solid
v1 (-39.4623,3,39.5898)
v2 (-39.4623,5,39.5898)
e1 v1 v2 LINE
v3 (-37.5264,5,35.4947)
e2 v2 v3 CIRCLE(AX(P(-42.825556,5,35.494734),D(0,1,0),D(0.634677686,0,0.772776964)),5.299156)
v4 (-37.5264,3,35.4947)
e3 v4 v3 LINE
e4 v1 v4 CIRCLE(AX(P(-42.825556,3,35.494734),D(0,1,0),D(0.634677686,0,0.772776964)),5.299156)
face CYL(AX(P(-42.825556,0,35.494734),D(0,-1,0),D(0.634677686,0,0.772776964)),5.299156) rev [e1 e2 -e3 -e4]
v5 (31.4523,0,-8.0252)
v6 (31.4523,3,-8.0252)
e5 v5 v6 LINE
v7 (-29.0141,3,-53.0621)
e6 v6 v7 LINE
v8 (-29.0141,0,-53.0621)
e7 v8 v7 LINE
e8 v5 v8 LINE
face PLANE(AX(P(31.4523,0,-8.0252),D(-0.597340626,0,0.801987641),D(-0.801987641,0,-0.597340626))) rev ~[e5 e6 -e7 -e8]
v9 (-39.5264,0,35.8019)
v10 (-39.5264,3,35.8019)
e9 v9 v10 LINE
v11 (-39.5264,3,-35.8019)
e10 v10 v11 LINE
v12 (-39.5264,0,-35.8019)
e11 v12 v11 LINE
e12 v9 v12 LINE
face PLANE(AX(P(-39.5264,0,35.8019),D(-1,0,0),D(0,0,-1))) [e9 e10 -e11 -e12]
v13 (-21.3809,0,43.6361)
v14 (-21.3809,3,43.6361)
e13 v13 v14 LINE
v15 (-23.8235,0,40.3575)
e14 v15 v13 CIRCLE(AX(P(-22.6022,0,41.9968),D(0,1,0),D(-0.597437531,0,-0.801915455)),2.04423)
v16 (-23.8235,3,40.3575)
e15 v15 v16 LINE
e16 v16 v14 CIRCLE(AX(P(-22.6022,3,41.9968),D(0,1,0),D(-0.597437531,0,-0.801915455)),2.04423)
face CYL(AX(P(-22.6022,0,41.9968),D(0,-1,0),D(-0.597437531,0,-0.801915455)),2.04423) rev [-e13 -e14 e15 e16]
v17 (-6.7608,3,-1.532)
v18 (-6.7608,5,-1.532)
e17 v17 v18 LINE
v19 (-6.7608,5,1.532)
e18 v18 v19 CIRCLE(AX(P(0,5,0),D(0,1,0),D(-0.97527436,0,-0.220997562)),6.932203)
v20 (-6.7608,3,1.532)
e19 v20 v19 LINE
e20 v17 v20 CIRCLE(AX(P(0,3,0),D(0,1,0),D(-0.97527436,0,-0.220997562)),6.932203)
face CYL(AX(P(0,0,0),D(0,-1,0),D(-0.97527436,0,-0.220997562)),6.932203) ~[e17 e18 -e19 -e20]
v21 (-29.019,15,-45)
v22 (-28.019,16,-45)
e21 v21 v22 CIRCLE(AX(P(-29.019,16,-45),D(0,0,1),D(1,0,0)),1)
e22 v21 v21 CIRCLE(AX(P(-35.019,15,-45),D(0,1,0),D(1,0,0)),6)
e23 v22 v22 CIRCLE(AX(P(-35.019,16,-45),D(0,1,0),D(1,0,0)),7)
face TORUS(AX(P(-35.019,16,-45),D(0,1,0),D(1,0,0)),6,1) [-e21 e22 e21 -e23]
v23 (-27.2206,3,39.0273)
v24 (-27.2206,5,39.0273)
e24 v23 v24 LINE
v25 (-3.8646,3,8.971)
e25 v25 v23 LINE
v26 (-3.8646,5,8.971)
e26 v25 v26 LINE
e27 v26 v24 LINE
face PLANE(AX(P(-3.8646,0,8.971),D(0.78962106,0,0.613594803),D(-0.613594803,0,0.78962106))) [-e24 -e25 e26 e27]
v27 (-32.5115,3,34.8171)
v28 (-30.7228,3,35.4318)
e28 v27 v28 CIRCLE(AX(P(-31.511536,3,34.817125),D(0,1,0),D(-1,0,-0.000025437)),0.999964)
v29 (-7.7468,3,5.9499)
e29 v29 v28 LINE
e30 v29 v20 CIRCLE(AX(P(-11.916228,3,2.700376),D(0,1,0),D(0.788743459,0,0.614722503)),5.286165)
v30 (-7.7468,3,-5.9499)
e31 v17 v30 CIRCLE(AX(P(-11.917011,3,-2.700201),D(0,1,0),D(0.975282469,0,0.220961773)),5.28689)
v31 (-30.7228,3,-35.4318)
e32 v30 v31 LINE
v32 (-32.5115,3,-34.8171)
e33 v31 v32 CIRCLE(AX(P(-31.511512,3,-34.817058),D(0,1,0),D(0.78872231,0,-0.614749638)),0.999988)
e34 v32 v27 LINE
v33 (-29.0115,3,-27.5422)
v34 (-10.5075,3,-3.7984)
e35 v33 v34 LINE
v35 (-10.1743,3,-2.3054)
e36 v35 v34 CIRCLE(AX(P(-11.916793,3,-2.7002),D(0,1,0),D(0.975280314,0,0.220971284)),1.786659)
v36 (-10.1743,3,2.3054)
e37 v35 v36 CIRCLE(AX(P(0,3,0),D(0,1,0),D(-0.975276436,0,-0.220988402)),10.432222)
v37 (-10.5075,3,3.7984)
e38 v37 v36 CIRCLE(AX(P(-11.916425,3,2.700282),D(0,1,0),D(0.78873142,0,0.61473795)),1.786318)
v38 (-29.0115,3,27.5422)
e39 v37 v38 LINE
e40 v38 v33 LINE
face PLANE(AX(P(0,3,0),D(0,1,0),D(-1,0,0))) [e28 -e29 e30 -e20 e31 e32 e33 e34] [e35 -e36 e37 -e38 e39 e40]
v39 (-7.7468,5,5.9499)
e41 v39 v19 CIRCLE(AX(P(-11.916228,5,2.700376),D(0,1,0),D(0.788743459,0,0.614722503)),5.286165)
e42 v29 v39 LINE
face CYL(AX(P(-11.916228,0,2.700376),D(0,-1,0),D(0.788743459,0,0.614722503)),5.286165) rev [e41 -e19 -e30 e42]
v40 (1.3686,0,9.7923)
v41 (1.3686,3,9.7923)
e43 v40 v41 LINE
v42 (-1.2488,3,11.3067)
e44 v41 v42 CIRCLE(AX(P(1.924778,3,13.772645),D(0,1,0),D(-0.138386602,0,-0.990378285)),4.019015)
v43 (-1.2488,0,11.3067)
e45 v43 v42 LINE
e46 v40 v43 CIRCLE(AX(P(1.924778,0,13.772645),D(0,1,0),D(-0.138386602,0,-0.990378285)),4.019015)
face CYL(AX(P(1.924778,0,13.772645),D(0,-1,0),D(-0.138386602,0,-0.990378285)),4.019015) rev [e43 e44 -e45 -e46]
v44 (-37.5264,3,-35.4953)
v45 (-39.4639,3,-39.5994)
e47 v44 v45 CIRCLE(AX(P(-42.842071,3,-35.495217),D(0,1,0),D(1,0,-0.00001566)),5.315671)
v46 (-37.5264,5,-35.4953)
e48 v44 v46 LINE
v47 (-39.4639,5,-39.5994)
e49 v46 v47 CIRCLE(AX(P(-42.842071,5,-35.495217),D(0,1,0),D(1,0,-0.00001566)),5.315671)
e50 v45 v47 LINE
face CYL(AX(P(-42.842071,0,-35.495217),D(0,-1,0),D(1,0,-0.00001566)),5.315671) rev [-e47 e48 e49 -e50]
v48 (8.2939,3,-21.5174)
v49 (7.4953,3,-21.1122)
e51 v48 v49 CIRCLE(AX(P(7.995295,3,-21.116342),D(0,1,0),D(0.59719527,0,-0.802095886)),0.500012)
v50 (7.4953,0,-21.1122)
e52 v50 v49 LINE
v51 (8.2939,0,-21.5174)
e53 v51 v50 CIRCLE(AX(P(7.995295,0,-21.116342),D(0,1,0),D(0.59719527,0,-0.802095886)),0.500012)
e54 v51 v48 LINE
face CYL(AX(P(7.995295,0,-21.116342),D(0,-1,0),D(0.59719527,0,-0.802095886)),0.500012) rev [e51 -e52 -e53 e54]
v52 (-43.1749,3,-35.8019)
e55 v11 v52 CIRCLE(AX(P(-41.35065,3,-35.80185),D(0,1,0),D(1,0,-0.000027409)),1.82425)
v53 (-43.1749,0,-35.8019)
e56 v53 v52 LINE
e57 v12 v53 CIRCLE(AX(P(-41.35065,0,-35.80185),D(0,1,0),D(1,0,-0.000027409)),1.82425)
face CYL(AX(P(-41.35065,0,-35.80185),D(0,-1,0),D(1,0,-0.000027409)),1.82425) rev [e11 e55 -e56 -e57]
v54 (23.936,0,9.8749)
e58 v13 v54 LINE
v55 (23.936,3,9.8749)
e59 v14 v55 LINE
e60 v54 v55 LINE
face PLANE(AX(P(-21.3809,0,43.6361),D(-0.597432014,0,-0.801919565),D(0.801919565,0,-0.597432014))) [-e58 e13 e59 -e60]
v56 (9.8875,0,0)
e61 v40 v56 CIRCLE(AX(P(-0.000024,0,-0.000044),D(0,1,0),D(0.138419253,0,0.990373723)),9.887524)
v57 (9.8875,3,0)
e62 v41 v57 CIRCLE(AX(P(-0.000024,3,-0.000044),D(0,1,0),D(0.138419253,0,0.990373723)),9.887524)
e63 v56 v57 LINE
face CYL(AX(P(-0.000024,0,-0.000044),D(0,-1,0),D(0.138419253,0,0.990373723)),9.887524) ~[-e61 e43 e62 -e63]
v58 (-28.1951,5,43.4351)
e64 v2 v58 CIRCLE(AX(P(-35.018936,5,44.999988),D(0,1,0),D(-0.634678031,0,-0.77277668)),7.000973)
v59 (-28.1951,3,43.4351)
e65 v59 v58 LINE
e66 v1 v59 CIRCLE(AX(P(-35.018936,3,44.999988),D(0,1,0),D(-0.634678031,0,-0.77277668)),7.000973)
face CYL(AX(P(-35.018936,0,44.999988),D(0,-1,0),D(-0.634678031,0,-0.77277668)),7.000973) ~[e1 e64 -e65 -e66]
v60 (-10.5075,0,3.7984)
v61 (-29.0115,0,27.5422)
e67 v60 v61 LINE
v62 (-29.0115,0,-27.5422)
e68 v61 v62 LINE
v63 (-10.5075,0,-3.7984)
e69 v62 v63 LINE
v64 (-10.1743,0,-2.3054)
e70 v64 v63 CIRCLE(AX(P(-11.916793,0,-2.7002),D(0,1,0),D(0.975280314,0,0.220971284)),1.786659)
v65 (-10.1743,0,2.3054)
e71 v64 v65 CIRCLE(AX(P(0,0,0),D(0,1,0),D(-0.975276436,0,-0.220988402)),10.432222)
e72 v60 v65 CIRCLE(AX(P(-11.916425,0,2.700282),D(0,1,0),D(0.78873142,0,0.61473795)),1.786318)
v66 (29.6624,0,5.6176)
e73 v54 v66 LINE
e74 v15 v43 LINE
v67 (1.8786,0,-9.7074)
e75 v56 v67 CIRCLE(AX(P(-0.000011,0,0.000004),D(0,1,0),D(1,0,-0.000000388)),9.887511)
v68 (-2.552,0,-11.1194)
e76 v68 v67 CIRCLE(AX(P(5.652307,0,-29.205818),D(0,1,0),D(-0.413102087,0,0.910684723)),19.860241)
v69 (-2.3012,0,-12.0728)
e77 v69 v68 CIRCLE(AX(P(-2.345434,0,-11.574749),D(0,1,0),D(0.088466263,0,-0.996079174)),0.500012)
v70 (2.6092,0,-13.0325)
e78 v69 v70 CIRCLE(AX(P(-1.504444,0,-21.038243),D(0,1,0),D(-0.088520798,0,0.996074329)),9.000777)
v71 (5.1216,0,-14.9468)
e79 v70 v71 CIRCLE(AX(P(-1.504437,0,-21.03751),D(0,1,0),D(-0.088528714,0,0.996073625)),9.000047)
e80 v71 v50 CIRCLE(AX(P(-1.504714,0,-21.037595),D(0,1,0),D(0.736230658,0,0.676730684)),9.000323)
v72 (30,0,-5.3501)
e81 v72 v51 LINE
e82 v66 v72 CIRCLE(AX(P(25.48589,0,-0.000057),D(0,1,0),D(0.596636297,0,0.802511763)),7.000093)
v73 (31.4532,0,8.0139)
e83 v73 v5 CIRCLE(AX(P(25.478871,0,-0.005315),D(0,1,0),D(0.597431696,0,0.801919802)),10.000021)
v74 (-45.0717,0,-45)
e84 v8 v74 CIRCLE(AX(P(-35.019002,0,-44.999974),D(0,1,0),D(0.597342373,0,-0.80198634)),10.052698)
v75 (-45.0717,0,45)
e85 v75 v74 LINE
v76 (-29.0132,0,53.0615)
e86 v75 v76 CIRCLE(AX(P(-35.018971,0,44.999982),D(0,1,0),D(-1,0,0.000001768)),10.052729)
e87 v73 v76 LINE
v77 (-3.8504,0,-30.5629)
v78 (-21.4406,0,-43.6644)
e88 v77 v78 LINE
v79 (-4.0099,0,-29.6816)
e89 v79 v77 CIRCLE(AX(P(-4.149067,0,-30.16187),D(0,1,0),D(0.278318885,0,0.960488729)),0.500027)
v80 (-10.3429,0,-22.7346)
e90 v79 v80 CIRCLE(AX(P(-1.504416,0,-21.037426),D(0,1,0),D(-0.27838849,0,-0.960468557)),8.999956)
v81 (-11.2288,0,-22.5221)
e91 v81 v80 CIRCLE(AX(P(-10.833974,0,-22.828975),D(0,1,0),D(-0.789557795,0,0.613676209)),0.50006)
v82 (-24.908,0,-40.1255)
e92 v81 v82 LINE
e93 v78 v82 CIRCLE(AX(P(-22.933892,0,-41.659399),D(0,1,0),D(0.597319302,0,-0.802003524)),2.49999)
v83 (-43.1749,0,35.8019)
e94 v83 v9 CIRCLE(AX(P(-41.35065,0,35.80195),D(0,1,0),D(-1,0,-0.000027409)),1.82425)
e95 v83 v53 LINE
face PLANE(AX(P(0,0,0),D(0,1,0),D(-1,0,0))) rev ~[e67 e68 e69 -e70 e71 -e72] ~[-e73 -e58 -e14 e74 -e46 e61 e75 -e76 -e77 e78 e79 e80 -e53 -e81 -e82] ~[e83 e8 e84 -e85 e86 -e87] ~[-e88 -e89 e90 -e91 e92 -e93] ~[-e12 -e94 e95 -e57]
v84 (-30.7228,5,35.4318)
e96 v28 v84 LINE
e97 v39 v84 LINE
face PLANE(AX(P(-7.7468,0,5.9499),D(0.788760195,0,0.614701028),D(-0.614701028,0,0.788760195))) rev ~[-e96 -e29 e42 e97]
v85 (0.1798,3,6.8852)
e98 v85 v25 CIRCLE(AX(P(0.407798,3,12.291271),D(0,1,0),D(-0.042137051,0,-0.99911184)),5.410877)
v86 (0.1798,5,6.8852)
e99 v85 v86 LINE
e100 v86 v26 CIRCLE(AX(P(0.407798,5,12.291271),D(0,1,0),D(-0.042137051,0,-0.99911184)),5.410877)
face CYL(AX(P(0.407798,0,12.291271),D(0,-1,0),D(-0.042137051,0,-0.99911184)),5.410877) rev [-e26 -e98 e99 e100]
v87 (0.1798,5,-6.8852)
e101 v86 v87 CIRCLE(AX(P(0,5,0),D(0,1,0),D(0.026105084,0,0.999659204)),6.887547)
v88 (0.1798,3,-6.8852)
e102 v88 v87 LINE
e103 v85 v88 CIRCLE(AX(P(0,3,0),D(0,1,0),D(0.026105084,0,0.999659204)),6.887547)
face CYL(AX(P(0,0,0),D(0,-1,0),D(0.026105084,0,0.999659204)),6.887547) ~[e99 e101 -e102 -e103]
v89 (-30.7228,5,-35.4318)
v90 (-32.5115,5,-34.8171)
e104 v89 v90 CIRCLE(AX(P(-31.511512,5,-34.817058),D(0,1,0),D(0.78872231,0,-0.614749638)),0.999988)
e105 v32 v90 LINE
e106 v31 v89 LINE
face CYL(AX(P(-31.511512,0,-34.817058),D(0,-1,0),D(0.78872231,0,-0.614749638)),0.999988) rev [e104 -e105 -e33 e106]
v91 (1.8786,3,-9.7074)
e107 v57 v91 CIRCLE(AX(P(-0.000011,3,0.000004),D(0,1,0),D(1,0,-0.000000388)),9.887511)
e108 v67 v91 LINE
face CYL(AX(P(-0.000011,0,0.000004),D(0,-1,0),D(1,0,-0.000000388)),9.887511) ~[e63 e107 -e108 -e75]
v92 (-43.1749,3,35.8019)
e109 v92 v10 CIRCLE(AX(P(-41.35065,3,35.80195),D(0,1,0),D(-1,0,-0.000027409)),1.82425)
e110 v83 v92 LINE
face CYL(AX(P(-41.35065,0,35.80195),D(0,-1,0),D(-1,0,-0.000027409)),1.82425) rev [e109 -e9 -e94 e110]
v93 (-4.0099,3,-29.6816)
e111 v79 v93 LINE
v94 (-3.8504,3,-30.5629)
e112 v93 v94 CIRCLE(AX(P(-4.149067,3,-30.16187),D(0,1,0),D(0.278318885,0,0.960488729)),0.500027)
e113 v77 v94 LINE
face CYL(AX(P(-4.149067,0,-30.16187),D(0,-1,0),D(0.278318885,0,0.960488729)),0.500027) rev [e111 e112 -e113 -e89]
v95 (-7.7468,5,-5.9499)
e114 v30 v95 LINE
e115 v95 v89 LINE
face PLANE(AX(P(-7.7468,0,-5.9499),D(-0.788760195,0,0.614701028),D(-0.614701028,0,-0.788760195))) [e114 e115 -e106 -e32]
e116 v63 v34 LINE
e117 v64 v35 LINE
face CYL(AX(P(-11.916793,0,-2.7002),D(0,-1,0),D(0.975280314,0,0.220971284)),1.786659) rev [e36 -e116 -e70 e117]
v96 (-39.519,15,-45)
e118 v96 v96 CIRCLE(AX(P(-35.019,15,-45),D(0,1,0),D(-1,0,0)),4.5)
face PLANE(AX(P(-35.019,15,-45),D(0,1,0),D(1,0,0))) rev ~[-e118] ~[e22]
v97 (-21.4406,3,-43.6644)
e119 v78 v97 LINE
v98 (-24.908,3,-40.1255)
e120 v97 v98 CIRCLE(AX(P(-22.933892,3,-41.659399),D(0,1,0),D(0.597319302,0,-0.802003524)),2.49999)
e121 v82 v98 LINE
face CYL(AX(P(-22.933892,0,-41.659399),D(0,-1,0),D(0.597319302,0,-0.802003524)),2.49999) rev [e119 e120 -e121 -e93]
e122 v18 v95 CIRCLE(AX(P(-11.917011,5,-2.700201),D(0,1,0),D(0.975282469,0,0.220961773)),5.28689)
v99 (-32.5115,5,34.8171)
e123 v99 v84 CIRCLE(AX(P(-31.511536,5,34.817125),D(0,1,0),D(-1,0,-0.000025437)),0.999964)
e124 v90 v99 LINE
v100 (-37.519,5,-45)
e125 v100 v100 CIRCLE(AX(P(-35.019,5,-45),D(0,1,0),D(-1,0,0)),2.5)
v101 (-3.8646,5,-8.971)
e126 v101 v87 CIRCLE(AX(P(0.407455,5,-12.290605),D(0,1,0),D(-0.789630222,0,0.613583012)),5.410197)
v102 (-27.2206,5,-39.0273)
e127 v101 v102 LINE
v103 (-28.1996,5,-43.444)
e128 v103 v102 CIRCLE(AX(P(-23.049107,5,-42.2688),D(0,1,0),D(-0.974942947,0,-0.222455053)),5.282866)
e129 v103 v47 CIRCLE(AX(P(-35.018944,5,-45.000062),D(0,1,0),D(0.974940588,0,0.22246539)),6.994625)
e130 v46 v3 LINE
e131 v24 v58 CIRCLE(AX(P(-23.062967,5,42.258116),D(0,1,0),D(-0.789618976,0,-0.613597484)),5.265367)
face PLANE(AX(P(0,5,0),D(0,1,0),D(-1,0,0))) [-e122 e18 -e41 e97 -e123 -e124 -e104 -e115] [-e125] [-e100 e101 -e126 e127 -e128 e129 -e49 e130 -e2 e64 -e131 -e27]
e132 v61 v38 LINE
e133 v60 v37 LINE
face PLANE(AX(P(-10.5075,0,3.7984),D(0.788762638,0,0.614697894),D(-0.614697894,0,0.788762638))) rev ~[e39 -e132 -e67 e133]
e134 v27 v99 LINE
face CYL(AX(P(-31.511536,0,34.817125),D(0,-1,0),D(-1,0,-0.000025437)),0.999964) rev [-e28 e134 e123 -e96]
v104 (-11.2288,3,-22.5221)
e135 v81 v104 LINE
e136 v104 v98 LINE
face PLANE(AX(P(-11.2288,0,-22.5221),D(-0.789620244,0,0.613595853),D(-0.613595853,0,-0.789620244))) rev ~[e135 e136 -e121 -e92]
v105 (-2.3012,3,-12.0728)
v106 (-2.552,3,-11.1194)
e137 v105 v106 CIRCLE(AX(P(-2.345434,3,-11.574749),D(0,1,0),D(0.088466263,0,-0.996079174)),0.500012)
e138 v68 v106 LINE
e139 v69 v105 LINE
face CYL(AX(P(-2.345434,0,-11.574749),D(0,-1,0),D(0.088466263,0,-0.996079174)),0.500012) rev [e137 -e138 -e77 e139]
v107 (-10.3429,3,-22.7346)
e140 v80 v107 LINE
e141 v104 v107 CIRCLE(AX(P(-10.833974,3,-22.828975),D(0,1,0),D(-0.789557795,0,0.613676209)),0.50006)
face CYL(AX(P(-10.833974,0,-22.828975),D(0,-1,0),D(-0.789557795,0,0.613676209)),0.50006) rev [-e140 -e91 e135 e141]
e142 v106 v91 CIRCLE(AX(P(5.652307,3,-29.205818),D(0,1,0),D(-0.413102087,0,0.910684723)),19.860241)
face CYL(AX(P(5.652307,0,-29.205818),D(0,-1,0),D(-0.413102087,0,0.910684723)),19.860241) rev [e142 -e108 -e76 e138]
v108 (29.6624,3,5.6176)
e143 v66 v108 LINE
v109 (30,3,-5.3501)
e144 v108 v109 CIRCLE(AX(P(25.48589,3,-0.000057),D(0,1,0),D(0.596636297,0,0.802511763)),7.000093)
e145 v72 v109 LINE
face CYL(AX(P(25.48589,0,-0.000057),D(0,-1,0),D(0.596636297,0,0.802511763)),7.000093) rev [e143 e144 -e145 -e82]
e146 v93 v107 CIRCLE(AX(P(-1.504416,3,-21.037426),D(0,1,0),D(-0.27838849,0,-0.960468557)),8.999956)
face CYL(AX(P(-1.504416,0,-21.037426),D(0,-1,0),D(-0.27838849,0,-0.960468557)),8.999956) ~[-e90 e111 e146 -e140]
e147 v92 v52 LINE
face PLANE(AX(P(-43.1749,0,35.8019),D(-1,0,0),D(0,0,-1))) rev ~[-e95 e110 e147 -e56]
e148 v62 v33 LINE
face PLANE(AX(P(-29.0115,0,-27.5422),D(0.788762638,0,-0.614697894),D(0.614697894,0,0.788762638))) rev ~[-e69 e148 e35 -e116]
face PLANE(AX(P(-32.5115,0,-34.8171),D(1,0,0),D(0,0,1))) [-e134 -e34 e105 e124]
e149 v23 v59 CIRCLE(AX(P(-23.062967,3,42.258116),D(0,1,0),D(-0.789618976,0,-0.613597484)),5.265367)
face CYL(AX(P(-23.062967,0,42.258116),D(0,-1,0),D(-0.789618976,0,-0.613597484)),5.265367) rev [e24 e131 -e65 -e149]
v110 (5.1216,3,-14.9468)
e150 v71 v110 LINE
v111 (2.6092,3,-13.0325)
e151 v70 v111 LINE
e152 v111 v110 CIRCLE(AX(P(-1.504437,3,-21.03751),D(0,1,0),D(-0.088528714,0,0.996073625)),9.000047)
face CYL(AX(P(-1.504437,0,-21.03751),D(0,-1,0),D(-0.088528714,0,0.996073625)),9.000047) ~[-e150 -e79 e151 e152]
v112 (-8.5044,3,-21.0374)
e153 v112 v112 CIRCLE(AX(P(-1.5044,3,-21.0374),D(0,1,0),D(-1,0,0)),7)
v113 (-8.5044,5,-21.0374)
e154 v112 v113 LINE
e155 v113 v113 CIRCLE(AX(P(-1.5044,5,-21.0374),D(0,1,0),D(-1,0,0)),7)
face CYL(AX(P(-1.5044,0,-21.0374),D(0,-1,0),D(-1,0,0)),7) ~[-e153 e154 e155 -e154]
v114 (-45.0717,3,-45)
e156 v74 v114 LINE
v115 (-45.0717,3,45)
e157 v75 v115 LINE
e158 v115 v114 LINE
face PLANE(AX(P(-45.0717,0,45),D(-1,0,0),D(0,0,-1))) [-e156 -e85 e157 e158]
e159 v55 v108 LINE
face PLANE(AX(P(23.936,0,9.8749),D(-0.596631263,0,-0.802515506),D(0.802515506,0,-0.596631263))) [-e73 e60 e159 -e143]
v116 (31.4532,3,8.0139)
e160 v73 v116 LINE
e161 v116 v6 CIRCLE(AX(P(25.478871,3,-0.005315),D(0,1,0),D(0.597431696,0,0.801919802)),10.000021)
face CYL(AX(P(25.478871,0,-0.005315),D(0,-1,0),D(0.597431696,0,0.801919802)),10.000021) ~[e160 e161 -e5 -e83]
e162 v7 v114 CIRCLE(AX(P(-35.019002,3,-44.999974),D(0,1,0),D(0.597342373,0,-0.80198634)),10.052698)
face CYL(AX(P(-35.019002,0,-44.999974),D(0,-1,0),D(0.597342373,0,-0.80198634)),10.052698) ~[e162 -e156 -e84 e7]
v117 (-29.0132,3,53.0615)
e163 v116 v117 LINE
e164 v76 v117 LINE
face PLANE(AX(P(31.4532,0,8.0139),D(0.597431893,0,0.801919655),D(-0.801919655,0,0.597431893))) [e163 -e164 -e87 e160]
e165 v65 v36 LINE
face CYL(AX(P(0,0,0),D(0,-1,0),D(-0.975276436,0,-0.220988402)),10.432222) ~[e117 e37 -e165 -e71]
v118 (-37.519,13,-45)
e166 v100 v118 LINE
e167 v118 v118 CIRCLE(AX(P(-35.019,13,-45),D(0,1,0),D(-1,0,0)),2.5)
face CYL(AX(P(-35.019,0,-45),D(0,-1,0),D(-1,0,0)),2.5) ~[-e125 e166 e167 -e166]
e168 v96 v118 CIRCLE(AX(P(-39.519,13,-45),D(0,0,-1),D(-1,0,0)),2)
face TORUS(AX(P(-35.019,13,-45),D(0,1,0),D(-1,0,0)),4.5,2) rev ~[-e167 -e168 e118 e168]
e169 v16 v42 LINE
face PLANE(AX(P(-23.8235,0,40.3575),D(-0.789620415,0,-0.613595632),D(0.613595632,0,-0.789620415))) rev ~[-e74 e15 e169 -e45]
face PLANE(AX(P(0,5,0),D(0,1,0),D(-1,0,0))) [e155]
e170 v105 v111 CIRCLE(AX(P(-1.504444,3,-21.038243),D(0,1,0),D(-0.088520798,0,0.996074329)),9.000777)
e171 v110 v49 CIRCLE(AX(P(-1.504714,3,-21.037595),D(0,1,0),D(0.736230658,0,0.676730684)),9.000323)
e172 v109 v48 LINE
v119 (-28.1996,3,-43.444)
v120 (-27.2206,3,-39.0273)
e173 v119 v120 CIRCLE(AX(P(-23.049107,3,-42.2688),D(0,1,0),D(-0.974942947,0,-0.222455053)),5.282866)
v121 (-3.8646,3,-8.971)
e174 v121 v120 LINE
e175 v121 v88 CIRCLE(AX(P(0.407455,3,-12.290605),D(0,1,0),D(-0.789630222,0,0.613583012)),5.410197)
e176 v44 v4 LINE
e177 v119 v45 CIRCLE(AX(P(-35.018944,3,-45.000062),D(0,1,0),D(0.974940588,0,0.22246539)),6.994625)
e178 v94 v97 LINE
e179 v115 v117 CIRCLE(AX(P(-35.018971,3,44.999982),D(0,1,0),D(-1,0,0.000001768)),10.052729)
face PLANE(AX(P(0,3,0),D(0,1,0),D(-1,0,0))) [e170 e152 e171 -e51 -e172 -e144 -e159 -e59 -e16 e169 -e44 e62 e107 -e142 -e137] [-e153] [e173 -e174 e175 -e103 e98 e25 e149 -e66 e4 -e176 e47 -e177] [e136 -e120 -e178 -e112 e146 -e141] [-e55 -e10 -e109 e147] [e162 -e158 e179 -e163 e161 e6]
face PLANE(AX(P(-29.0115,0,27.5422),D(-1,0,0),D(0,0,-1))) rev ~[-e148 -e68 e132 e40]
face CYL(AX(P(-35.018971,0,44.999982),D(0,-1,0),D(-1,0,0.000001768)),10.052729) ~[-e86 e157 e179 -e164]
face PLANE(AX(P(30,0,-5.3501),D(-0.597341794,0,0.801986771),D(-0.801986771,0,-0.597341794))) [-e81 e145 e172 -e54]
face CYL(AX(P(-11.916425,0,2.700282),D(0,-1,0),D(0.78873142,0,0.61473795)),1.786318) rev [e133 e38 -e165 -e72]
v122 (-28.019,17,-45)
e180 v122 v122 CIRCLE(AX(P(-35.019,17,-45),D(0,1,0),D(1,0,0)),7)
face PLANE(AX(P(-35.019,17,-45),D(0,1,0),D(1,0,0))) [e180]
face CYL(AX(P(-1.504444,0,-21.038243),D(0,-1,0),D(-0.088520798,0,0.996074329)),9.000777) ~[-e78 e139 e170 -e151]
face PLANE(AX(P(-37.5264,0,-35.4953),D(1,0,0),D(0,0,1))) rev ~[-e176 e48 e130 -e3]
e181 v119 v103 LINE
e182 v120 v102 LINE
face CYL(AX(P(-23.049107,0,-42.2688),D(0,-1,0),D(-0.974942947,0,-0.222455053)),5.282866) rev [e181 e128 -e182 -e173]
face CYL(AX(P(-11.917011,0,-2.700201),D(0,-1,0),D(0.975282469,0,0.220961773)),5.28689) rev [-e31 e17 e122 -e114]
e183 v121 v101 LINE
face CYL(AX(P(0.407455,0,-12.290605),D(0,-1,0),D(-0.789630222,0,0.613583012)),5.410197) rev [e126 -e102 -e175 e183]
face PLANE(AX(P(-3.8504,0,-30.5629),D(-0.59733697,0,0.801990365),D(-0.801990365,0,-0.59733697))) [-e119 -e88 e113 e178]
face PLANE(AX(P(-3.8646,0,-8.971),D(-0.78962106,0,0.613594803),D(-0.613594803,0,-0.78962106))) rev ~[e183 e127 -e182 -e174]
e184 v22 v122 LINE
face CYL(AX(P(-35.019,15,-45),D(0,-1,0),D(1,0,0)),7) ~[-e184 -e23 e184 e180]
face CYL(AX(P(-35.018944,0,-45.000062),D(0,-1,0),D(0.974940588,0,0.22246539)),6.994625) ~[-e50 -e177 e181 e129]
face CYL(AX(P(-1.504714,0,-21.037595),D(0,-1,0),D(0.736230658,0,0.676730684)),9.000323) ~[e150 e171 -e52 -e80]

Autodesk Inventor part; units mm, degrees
ref_plane "YZ Plane" through (0, 0, 0) normal (1, 0, 0) x (0, 1, 0)
ref_plane "XZ Plane" through (0, 0, 0) normal (0, 1, 0) x (-1, 0, 0)
ref_plane "XY Plane" through (0, 0, 0) normal (0, 0, 1) x (1, 0, 0)
sketch "Boceto1" plane through (0, 0, 0) normal (0, 1, 0) x (-1, 0, 0)
  circle A0 centre (1.5044, -21.0374) radius 7
  line L0 (0, 0) -> (-30, 0) construction
  line L1 (0, 0) -> (35.019, 45) construction
  arc A1 (45.0717, 45) -> (29.0132, 53.0615) centre (35.019, 45) ccw
  arc A2 (28.1996, -43.444) -> (39.4639, -39.5994) centre (35.019, -45) ccw
  arc A3 (29.0141, -53.0621) -> (45.0717, -45) centre (35.019, -45) ccw
  line L2 (45.0717, 45) -> (45.0717, -45)
  line L3 (-31.4523, -8.0252) -> (29.0141, -53.0621)
  line L4 (-31.4532, 8.0139) -> (29.0132, 53.0615)
  circle A4 centre (35.019, -45) radius 2.5
  line L5 (35.019, 45) -> (35.019, -45) construction
  line L6 (0, 0) -> (35.019, -45) construction
  arc A5 (39.4623, 39.5898) -> (28.1951, 43.4351) centre (35.019, 45) ccw
  line L7 (37.5264, -35.4953) -> (37.5264, 35.4947)
  line L8 (32.5115, -34.8171) -> (32.5115, 34.8171)
  line L9 (4.23, 5.4356) -> (6.2005, 3.9021) construction
  line L10 (7.7468, 5.9499) -> (30.7228, 35.4318)
  line L11 (3.8646, 8.971) -> (27.2206, 39.0273)
  line L12 (7.7468, -5.9499) -> (30.7228, -35.4318)
  line L13 (3.8646, -8.971) -> (27.2206, -39.0273)
  arc A6 (32.5115, 34.8171) -> (30.7228, 35.4318) centre (31.5115, 34.8171) ccw
  arc A7 (30.7228, -35.4318) -> (32.5115, -34.8171) centre (31.5115, -34.8171) ccw
  arc A8 (27.2206, 39.0273) -> (28.1951, 43.4351) centre (23.063, 42.2581) ccw
  arc A9 (-0.1798, 6.8852) -> (3.8646, 8.971) centre (-0.4077, 12.2909) ccw
  arc A10 (7.7468, 5.9499) -> (6.7608, 1.532) centre (11.9166, 2.7002) ccw
  arc A11 (6.7608, -1.532) -> (7.7468, -5.9499) centre (11.9166, -2.7002) ccw
  arc A12 (3.8646, -8.971) -> (-0.1798, -6.8852) centre (-0.4077, -12.2909) ccw
  arc A13 (6.7608, -1.532) -> (6.7608, 1.532) centre (0, 0) ccw
  arc A14 (-0.1798, 6.8852) -> (-0.1798, -6.8852) centre (0, 0) ccw
  arc A15 (39.4623, 39.5898) -> (37.5264, 35.4947) centre (42.8256, 35.4947) ccw
  arc A16 (37.5264, -35.4953) -> (39.4639, -39.5994) centre (42.8417, -35.4953) ccw
  arc A17 (28.1996, -43.444) -> (27.2206, -39.0273) centre (23.0492, -42.2688) ccw
  arc A18 (-31.4532, 8.0139) -> (-31.4523, -8.0252) centre (-25.4789, -0.0053) ccw
  line L14 (29.0115, 27.5422) -> (29.0115, -27.5422)
  line L15 (29.0115, -27.5422) -> (10.5075, -3.7984)
  arc A19 (10.1743, -2.3054) -> (10.5075, -3.7984) centre (11.9166, -2.7002) ccw
  arc A20 (10.1743, -2.3054) -> (10.1743, 2.3054) centre (0, 0) ccw
  arc A21 (10.5075, 3.7984) -> (10.1743, 2.3054) centre (11.9166, 2.7002) ccw
  line L16 (10.5075, 3.7984) -> (29.0115, 27.5422)
  line L17 (39.5264, 35.8019) -> (39.5264, -35.8019)
  line L18 (40.8447, 38.0421) -> (40.8447, -38.1418) construction
  line L19 (21.3809, 43.6361) -> (-23.936, 9.8749)
  arc A22 (23.8235, 40.3575) -> (21.3809, 43.6361) centre (22.6022, 41.9968) ccw
  arc A23 (-1.3686, 9.7923) -> (-9.8875, 0) centre (0, 0) ccw
  line L20 (23.8235, 40.3575) -> (1.2488, 11.3067)
  arc A24 (-1.3686, 9.7923) -> (1.2488, 11.3067) centre (-1.9249, 13.773) ccw
  arc A25 (-29.6624, 5.6176) -> (-29.9588, -5.3847) centre (-25.486, 0) ccw
  line L21 (-23.936, 9.8749) -> (-29.6624, 5.6176)
  arc A26 (-9.8875, 0) -> (-1.8786, -9.7074) centre (0, 0) ccw
  line L22 (43.1749, 35.8019) -> (43.1749, -35.8019)
  arc A27 (43.1749, 35.8019) -> (39.5264, 35.8019) centre (41.3506, 35.8019) ccw
  arc A28 (39.5264, -35.8019) -> (43.1749, -35.8019) centre (41.3506, -35.8019) ccw
  line L23 (-30, -5.3501) -> (-8.2939, -21.5174)
  arc A29 (2.552, -11.1194) -> (-1.8786, -9.7074) centre (-5.6513, -29.2032) ccw
  arc A30 (2.3012, -12.0728) -> (2.552, -11.1194) centre (2.3454, -11.5747) ccw
  arc A31 (-8.2939, -21.5174) -> (-7.4953, -21.1122) centre (-7.9953, -21.1164) ccw
  line L24 (11.2288, -22.5221) -> (24.908, -40.1255)
  line L25 (3.8504, -30.5629) -> (21.4406, -43.6644)
  arc A32 (21.4406, -43.6644) -> (24.908, -40.1255) centre (22.9339, -41.6595) ccw
  arc A33 (2.3012, -12.0728) -> (-2.6092, -13.0325) centre (1.5044, -21.0374) ccw
  arc A34 (-5.1216, -14.9468) -> (-7.4953, -21.1122) centre (1.5044, -21.0374) ccw
  arc A35 (2.3012, -12.0728) -> (-7.4953, -21.1122) centre (1.5044, -21.0374) ccw
  arc A36 (4.0099, -29.6816) -> (10.3429, -22.7346) centre (1.5044, -21.0374) ccw
  arc A37 (11.2288, -22.5221) -> (10.3429, -22.7346) centre (10.834, -22.8289) ccw
  arc A38 (4.0099, -29.6816) -> (3.8504, -30.5629) centre (4.1491, -30.1619) ccw
  point P0 (31.1449, 35.9734)
  point P1 (32.5115, 35.4947)
  point P2 (32.5115, -35.4953)
  point P3 (32.5115, 35.4947)
  point P4 (31.1449, -35.9734)
  point P5 (-3.2933, -26.1347)
  point P6 (8.3262, -19.468)
  point P7 (-7.4247, -22.1648)
  point P8 (10.4887, -21.5697)
  point P9 (2.9812, -29.9154)
  point P10 (-2.6092, -13.0325)
  dimension "d0" = 14
  dimension "d1" = 45
  dimension "d2" = 5
  dimension "d3" = 1
  dimension "d4" = 10
  dimension "d5" = 3.5
  dimension "d6" = 2
  dimension "d7" = 3
  dimension "d8" = 14
  dimension "d20" = 0.5
  dimension "d23" = 2.5
  dimension "d24" = 2.5
  dimension "d25" = 0.5
extrude "Extrusión2" add sketch "Boceto1" along normal blind 5 contours A0 | A17 L13 A12 A14 A9 L11 A8 A5 A15 L7 A16 A2
extrude "Extrusión3" add sketch "Boceto1" along normal blind 15 contours A4
extrude "Extrusión4" add sketch "Boceto1" along normal blind 3 contours L2 A3 L3 A18 L4 A1
extrude "Extrusión5" add sketch "Boceto1" along normal blind 3 contours A7 L12 A11 A13 A10 L10 A6 L8
sketch "Boceto2" plane through (-35.019, 15, -45) normal (0, 1, 0) x (1, 0, 0)
  circle A0 centre (0, 0) radius 7
  point P0 (35.019, -45)
  dimension "d30" = 14
extrude "Extrusión6" add sketch "Boceto2" along normal blind 2
fillet "Empalme1" radius 2 1 edges at (-32.519, 15, -45)
fillet "Empalme2" radius 1 1 edges at (-42.019, 15, -45)
properties part number "prot2"
